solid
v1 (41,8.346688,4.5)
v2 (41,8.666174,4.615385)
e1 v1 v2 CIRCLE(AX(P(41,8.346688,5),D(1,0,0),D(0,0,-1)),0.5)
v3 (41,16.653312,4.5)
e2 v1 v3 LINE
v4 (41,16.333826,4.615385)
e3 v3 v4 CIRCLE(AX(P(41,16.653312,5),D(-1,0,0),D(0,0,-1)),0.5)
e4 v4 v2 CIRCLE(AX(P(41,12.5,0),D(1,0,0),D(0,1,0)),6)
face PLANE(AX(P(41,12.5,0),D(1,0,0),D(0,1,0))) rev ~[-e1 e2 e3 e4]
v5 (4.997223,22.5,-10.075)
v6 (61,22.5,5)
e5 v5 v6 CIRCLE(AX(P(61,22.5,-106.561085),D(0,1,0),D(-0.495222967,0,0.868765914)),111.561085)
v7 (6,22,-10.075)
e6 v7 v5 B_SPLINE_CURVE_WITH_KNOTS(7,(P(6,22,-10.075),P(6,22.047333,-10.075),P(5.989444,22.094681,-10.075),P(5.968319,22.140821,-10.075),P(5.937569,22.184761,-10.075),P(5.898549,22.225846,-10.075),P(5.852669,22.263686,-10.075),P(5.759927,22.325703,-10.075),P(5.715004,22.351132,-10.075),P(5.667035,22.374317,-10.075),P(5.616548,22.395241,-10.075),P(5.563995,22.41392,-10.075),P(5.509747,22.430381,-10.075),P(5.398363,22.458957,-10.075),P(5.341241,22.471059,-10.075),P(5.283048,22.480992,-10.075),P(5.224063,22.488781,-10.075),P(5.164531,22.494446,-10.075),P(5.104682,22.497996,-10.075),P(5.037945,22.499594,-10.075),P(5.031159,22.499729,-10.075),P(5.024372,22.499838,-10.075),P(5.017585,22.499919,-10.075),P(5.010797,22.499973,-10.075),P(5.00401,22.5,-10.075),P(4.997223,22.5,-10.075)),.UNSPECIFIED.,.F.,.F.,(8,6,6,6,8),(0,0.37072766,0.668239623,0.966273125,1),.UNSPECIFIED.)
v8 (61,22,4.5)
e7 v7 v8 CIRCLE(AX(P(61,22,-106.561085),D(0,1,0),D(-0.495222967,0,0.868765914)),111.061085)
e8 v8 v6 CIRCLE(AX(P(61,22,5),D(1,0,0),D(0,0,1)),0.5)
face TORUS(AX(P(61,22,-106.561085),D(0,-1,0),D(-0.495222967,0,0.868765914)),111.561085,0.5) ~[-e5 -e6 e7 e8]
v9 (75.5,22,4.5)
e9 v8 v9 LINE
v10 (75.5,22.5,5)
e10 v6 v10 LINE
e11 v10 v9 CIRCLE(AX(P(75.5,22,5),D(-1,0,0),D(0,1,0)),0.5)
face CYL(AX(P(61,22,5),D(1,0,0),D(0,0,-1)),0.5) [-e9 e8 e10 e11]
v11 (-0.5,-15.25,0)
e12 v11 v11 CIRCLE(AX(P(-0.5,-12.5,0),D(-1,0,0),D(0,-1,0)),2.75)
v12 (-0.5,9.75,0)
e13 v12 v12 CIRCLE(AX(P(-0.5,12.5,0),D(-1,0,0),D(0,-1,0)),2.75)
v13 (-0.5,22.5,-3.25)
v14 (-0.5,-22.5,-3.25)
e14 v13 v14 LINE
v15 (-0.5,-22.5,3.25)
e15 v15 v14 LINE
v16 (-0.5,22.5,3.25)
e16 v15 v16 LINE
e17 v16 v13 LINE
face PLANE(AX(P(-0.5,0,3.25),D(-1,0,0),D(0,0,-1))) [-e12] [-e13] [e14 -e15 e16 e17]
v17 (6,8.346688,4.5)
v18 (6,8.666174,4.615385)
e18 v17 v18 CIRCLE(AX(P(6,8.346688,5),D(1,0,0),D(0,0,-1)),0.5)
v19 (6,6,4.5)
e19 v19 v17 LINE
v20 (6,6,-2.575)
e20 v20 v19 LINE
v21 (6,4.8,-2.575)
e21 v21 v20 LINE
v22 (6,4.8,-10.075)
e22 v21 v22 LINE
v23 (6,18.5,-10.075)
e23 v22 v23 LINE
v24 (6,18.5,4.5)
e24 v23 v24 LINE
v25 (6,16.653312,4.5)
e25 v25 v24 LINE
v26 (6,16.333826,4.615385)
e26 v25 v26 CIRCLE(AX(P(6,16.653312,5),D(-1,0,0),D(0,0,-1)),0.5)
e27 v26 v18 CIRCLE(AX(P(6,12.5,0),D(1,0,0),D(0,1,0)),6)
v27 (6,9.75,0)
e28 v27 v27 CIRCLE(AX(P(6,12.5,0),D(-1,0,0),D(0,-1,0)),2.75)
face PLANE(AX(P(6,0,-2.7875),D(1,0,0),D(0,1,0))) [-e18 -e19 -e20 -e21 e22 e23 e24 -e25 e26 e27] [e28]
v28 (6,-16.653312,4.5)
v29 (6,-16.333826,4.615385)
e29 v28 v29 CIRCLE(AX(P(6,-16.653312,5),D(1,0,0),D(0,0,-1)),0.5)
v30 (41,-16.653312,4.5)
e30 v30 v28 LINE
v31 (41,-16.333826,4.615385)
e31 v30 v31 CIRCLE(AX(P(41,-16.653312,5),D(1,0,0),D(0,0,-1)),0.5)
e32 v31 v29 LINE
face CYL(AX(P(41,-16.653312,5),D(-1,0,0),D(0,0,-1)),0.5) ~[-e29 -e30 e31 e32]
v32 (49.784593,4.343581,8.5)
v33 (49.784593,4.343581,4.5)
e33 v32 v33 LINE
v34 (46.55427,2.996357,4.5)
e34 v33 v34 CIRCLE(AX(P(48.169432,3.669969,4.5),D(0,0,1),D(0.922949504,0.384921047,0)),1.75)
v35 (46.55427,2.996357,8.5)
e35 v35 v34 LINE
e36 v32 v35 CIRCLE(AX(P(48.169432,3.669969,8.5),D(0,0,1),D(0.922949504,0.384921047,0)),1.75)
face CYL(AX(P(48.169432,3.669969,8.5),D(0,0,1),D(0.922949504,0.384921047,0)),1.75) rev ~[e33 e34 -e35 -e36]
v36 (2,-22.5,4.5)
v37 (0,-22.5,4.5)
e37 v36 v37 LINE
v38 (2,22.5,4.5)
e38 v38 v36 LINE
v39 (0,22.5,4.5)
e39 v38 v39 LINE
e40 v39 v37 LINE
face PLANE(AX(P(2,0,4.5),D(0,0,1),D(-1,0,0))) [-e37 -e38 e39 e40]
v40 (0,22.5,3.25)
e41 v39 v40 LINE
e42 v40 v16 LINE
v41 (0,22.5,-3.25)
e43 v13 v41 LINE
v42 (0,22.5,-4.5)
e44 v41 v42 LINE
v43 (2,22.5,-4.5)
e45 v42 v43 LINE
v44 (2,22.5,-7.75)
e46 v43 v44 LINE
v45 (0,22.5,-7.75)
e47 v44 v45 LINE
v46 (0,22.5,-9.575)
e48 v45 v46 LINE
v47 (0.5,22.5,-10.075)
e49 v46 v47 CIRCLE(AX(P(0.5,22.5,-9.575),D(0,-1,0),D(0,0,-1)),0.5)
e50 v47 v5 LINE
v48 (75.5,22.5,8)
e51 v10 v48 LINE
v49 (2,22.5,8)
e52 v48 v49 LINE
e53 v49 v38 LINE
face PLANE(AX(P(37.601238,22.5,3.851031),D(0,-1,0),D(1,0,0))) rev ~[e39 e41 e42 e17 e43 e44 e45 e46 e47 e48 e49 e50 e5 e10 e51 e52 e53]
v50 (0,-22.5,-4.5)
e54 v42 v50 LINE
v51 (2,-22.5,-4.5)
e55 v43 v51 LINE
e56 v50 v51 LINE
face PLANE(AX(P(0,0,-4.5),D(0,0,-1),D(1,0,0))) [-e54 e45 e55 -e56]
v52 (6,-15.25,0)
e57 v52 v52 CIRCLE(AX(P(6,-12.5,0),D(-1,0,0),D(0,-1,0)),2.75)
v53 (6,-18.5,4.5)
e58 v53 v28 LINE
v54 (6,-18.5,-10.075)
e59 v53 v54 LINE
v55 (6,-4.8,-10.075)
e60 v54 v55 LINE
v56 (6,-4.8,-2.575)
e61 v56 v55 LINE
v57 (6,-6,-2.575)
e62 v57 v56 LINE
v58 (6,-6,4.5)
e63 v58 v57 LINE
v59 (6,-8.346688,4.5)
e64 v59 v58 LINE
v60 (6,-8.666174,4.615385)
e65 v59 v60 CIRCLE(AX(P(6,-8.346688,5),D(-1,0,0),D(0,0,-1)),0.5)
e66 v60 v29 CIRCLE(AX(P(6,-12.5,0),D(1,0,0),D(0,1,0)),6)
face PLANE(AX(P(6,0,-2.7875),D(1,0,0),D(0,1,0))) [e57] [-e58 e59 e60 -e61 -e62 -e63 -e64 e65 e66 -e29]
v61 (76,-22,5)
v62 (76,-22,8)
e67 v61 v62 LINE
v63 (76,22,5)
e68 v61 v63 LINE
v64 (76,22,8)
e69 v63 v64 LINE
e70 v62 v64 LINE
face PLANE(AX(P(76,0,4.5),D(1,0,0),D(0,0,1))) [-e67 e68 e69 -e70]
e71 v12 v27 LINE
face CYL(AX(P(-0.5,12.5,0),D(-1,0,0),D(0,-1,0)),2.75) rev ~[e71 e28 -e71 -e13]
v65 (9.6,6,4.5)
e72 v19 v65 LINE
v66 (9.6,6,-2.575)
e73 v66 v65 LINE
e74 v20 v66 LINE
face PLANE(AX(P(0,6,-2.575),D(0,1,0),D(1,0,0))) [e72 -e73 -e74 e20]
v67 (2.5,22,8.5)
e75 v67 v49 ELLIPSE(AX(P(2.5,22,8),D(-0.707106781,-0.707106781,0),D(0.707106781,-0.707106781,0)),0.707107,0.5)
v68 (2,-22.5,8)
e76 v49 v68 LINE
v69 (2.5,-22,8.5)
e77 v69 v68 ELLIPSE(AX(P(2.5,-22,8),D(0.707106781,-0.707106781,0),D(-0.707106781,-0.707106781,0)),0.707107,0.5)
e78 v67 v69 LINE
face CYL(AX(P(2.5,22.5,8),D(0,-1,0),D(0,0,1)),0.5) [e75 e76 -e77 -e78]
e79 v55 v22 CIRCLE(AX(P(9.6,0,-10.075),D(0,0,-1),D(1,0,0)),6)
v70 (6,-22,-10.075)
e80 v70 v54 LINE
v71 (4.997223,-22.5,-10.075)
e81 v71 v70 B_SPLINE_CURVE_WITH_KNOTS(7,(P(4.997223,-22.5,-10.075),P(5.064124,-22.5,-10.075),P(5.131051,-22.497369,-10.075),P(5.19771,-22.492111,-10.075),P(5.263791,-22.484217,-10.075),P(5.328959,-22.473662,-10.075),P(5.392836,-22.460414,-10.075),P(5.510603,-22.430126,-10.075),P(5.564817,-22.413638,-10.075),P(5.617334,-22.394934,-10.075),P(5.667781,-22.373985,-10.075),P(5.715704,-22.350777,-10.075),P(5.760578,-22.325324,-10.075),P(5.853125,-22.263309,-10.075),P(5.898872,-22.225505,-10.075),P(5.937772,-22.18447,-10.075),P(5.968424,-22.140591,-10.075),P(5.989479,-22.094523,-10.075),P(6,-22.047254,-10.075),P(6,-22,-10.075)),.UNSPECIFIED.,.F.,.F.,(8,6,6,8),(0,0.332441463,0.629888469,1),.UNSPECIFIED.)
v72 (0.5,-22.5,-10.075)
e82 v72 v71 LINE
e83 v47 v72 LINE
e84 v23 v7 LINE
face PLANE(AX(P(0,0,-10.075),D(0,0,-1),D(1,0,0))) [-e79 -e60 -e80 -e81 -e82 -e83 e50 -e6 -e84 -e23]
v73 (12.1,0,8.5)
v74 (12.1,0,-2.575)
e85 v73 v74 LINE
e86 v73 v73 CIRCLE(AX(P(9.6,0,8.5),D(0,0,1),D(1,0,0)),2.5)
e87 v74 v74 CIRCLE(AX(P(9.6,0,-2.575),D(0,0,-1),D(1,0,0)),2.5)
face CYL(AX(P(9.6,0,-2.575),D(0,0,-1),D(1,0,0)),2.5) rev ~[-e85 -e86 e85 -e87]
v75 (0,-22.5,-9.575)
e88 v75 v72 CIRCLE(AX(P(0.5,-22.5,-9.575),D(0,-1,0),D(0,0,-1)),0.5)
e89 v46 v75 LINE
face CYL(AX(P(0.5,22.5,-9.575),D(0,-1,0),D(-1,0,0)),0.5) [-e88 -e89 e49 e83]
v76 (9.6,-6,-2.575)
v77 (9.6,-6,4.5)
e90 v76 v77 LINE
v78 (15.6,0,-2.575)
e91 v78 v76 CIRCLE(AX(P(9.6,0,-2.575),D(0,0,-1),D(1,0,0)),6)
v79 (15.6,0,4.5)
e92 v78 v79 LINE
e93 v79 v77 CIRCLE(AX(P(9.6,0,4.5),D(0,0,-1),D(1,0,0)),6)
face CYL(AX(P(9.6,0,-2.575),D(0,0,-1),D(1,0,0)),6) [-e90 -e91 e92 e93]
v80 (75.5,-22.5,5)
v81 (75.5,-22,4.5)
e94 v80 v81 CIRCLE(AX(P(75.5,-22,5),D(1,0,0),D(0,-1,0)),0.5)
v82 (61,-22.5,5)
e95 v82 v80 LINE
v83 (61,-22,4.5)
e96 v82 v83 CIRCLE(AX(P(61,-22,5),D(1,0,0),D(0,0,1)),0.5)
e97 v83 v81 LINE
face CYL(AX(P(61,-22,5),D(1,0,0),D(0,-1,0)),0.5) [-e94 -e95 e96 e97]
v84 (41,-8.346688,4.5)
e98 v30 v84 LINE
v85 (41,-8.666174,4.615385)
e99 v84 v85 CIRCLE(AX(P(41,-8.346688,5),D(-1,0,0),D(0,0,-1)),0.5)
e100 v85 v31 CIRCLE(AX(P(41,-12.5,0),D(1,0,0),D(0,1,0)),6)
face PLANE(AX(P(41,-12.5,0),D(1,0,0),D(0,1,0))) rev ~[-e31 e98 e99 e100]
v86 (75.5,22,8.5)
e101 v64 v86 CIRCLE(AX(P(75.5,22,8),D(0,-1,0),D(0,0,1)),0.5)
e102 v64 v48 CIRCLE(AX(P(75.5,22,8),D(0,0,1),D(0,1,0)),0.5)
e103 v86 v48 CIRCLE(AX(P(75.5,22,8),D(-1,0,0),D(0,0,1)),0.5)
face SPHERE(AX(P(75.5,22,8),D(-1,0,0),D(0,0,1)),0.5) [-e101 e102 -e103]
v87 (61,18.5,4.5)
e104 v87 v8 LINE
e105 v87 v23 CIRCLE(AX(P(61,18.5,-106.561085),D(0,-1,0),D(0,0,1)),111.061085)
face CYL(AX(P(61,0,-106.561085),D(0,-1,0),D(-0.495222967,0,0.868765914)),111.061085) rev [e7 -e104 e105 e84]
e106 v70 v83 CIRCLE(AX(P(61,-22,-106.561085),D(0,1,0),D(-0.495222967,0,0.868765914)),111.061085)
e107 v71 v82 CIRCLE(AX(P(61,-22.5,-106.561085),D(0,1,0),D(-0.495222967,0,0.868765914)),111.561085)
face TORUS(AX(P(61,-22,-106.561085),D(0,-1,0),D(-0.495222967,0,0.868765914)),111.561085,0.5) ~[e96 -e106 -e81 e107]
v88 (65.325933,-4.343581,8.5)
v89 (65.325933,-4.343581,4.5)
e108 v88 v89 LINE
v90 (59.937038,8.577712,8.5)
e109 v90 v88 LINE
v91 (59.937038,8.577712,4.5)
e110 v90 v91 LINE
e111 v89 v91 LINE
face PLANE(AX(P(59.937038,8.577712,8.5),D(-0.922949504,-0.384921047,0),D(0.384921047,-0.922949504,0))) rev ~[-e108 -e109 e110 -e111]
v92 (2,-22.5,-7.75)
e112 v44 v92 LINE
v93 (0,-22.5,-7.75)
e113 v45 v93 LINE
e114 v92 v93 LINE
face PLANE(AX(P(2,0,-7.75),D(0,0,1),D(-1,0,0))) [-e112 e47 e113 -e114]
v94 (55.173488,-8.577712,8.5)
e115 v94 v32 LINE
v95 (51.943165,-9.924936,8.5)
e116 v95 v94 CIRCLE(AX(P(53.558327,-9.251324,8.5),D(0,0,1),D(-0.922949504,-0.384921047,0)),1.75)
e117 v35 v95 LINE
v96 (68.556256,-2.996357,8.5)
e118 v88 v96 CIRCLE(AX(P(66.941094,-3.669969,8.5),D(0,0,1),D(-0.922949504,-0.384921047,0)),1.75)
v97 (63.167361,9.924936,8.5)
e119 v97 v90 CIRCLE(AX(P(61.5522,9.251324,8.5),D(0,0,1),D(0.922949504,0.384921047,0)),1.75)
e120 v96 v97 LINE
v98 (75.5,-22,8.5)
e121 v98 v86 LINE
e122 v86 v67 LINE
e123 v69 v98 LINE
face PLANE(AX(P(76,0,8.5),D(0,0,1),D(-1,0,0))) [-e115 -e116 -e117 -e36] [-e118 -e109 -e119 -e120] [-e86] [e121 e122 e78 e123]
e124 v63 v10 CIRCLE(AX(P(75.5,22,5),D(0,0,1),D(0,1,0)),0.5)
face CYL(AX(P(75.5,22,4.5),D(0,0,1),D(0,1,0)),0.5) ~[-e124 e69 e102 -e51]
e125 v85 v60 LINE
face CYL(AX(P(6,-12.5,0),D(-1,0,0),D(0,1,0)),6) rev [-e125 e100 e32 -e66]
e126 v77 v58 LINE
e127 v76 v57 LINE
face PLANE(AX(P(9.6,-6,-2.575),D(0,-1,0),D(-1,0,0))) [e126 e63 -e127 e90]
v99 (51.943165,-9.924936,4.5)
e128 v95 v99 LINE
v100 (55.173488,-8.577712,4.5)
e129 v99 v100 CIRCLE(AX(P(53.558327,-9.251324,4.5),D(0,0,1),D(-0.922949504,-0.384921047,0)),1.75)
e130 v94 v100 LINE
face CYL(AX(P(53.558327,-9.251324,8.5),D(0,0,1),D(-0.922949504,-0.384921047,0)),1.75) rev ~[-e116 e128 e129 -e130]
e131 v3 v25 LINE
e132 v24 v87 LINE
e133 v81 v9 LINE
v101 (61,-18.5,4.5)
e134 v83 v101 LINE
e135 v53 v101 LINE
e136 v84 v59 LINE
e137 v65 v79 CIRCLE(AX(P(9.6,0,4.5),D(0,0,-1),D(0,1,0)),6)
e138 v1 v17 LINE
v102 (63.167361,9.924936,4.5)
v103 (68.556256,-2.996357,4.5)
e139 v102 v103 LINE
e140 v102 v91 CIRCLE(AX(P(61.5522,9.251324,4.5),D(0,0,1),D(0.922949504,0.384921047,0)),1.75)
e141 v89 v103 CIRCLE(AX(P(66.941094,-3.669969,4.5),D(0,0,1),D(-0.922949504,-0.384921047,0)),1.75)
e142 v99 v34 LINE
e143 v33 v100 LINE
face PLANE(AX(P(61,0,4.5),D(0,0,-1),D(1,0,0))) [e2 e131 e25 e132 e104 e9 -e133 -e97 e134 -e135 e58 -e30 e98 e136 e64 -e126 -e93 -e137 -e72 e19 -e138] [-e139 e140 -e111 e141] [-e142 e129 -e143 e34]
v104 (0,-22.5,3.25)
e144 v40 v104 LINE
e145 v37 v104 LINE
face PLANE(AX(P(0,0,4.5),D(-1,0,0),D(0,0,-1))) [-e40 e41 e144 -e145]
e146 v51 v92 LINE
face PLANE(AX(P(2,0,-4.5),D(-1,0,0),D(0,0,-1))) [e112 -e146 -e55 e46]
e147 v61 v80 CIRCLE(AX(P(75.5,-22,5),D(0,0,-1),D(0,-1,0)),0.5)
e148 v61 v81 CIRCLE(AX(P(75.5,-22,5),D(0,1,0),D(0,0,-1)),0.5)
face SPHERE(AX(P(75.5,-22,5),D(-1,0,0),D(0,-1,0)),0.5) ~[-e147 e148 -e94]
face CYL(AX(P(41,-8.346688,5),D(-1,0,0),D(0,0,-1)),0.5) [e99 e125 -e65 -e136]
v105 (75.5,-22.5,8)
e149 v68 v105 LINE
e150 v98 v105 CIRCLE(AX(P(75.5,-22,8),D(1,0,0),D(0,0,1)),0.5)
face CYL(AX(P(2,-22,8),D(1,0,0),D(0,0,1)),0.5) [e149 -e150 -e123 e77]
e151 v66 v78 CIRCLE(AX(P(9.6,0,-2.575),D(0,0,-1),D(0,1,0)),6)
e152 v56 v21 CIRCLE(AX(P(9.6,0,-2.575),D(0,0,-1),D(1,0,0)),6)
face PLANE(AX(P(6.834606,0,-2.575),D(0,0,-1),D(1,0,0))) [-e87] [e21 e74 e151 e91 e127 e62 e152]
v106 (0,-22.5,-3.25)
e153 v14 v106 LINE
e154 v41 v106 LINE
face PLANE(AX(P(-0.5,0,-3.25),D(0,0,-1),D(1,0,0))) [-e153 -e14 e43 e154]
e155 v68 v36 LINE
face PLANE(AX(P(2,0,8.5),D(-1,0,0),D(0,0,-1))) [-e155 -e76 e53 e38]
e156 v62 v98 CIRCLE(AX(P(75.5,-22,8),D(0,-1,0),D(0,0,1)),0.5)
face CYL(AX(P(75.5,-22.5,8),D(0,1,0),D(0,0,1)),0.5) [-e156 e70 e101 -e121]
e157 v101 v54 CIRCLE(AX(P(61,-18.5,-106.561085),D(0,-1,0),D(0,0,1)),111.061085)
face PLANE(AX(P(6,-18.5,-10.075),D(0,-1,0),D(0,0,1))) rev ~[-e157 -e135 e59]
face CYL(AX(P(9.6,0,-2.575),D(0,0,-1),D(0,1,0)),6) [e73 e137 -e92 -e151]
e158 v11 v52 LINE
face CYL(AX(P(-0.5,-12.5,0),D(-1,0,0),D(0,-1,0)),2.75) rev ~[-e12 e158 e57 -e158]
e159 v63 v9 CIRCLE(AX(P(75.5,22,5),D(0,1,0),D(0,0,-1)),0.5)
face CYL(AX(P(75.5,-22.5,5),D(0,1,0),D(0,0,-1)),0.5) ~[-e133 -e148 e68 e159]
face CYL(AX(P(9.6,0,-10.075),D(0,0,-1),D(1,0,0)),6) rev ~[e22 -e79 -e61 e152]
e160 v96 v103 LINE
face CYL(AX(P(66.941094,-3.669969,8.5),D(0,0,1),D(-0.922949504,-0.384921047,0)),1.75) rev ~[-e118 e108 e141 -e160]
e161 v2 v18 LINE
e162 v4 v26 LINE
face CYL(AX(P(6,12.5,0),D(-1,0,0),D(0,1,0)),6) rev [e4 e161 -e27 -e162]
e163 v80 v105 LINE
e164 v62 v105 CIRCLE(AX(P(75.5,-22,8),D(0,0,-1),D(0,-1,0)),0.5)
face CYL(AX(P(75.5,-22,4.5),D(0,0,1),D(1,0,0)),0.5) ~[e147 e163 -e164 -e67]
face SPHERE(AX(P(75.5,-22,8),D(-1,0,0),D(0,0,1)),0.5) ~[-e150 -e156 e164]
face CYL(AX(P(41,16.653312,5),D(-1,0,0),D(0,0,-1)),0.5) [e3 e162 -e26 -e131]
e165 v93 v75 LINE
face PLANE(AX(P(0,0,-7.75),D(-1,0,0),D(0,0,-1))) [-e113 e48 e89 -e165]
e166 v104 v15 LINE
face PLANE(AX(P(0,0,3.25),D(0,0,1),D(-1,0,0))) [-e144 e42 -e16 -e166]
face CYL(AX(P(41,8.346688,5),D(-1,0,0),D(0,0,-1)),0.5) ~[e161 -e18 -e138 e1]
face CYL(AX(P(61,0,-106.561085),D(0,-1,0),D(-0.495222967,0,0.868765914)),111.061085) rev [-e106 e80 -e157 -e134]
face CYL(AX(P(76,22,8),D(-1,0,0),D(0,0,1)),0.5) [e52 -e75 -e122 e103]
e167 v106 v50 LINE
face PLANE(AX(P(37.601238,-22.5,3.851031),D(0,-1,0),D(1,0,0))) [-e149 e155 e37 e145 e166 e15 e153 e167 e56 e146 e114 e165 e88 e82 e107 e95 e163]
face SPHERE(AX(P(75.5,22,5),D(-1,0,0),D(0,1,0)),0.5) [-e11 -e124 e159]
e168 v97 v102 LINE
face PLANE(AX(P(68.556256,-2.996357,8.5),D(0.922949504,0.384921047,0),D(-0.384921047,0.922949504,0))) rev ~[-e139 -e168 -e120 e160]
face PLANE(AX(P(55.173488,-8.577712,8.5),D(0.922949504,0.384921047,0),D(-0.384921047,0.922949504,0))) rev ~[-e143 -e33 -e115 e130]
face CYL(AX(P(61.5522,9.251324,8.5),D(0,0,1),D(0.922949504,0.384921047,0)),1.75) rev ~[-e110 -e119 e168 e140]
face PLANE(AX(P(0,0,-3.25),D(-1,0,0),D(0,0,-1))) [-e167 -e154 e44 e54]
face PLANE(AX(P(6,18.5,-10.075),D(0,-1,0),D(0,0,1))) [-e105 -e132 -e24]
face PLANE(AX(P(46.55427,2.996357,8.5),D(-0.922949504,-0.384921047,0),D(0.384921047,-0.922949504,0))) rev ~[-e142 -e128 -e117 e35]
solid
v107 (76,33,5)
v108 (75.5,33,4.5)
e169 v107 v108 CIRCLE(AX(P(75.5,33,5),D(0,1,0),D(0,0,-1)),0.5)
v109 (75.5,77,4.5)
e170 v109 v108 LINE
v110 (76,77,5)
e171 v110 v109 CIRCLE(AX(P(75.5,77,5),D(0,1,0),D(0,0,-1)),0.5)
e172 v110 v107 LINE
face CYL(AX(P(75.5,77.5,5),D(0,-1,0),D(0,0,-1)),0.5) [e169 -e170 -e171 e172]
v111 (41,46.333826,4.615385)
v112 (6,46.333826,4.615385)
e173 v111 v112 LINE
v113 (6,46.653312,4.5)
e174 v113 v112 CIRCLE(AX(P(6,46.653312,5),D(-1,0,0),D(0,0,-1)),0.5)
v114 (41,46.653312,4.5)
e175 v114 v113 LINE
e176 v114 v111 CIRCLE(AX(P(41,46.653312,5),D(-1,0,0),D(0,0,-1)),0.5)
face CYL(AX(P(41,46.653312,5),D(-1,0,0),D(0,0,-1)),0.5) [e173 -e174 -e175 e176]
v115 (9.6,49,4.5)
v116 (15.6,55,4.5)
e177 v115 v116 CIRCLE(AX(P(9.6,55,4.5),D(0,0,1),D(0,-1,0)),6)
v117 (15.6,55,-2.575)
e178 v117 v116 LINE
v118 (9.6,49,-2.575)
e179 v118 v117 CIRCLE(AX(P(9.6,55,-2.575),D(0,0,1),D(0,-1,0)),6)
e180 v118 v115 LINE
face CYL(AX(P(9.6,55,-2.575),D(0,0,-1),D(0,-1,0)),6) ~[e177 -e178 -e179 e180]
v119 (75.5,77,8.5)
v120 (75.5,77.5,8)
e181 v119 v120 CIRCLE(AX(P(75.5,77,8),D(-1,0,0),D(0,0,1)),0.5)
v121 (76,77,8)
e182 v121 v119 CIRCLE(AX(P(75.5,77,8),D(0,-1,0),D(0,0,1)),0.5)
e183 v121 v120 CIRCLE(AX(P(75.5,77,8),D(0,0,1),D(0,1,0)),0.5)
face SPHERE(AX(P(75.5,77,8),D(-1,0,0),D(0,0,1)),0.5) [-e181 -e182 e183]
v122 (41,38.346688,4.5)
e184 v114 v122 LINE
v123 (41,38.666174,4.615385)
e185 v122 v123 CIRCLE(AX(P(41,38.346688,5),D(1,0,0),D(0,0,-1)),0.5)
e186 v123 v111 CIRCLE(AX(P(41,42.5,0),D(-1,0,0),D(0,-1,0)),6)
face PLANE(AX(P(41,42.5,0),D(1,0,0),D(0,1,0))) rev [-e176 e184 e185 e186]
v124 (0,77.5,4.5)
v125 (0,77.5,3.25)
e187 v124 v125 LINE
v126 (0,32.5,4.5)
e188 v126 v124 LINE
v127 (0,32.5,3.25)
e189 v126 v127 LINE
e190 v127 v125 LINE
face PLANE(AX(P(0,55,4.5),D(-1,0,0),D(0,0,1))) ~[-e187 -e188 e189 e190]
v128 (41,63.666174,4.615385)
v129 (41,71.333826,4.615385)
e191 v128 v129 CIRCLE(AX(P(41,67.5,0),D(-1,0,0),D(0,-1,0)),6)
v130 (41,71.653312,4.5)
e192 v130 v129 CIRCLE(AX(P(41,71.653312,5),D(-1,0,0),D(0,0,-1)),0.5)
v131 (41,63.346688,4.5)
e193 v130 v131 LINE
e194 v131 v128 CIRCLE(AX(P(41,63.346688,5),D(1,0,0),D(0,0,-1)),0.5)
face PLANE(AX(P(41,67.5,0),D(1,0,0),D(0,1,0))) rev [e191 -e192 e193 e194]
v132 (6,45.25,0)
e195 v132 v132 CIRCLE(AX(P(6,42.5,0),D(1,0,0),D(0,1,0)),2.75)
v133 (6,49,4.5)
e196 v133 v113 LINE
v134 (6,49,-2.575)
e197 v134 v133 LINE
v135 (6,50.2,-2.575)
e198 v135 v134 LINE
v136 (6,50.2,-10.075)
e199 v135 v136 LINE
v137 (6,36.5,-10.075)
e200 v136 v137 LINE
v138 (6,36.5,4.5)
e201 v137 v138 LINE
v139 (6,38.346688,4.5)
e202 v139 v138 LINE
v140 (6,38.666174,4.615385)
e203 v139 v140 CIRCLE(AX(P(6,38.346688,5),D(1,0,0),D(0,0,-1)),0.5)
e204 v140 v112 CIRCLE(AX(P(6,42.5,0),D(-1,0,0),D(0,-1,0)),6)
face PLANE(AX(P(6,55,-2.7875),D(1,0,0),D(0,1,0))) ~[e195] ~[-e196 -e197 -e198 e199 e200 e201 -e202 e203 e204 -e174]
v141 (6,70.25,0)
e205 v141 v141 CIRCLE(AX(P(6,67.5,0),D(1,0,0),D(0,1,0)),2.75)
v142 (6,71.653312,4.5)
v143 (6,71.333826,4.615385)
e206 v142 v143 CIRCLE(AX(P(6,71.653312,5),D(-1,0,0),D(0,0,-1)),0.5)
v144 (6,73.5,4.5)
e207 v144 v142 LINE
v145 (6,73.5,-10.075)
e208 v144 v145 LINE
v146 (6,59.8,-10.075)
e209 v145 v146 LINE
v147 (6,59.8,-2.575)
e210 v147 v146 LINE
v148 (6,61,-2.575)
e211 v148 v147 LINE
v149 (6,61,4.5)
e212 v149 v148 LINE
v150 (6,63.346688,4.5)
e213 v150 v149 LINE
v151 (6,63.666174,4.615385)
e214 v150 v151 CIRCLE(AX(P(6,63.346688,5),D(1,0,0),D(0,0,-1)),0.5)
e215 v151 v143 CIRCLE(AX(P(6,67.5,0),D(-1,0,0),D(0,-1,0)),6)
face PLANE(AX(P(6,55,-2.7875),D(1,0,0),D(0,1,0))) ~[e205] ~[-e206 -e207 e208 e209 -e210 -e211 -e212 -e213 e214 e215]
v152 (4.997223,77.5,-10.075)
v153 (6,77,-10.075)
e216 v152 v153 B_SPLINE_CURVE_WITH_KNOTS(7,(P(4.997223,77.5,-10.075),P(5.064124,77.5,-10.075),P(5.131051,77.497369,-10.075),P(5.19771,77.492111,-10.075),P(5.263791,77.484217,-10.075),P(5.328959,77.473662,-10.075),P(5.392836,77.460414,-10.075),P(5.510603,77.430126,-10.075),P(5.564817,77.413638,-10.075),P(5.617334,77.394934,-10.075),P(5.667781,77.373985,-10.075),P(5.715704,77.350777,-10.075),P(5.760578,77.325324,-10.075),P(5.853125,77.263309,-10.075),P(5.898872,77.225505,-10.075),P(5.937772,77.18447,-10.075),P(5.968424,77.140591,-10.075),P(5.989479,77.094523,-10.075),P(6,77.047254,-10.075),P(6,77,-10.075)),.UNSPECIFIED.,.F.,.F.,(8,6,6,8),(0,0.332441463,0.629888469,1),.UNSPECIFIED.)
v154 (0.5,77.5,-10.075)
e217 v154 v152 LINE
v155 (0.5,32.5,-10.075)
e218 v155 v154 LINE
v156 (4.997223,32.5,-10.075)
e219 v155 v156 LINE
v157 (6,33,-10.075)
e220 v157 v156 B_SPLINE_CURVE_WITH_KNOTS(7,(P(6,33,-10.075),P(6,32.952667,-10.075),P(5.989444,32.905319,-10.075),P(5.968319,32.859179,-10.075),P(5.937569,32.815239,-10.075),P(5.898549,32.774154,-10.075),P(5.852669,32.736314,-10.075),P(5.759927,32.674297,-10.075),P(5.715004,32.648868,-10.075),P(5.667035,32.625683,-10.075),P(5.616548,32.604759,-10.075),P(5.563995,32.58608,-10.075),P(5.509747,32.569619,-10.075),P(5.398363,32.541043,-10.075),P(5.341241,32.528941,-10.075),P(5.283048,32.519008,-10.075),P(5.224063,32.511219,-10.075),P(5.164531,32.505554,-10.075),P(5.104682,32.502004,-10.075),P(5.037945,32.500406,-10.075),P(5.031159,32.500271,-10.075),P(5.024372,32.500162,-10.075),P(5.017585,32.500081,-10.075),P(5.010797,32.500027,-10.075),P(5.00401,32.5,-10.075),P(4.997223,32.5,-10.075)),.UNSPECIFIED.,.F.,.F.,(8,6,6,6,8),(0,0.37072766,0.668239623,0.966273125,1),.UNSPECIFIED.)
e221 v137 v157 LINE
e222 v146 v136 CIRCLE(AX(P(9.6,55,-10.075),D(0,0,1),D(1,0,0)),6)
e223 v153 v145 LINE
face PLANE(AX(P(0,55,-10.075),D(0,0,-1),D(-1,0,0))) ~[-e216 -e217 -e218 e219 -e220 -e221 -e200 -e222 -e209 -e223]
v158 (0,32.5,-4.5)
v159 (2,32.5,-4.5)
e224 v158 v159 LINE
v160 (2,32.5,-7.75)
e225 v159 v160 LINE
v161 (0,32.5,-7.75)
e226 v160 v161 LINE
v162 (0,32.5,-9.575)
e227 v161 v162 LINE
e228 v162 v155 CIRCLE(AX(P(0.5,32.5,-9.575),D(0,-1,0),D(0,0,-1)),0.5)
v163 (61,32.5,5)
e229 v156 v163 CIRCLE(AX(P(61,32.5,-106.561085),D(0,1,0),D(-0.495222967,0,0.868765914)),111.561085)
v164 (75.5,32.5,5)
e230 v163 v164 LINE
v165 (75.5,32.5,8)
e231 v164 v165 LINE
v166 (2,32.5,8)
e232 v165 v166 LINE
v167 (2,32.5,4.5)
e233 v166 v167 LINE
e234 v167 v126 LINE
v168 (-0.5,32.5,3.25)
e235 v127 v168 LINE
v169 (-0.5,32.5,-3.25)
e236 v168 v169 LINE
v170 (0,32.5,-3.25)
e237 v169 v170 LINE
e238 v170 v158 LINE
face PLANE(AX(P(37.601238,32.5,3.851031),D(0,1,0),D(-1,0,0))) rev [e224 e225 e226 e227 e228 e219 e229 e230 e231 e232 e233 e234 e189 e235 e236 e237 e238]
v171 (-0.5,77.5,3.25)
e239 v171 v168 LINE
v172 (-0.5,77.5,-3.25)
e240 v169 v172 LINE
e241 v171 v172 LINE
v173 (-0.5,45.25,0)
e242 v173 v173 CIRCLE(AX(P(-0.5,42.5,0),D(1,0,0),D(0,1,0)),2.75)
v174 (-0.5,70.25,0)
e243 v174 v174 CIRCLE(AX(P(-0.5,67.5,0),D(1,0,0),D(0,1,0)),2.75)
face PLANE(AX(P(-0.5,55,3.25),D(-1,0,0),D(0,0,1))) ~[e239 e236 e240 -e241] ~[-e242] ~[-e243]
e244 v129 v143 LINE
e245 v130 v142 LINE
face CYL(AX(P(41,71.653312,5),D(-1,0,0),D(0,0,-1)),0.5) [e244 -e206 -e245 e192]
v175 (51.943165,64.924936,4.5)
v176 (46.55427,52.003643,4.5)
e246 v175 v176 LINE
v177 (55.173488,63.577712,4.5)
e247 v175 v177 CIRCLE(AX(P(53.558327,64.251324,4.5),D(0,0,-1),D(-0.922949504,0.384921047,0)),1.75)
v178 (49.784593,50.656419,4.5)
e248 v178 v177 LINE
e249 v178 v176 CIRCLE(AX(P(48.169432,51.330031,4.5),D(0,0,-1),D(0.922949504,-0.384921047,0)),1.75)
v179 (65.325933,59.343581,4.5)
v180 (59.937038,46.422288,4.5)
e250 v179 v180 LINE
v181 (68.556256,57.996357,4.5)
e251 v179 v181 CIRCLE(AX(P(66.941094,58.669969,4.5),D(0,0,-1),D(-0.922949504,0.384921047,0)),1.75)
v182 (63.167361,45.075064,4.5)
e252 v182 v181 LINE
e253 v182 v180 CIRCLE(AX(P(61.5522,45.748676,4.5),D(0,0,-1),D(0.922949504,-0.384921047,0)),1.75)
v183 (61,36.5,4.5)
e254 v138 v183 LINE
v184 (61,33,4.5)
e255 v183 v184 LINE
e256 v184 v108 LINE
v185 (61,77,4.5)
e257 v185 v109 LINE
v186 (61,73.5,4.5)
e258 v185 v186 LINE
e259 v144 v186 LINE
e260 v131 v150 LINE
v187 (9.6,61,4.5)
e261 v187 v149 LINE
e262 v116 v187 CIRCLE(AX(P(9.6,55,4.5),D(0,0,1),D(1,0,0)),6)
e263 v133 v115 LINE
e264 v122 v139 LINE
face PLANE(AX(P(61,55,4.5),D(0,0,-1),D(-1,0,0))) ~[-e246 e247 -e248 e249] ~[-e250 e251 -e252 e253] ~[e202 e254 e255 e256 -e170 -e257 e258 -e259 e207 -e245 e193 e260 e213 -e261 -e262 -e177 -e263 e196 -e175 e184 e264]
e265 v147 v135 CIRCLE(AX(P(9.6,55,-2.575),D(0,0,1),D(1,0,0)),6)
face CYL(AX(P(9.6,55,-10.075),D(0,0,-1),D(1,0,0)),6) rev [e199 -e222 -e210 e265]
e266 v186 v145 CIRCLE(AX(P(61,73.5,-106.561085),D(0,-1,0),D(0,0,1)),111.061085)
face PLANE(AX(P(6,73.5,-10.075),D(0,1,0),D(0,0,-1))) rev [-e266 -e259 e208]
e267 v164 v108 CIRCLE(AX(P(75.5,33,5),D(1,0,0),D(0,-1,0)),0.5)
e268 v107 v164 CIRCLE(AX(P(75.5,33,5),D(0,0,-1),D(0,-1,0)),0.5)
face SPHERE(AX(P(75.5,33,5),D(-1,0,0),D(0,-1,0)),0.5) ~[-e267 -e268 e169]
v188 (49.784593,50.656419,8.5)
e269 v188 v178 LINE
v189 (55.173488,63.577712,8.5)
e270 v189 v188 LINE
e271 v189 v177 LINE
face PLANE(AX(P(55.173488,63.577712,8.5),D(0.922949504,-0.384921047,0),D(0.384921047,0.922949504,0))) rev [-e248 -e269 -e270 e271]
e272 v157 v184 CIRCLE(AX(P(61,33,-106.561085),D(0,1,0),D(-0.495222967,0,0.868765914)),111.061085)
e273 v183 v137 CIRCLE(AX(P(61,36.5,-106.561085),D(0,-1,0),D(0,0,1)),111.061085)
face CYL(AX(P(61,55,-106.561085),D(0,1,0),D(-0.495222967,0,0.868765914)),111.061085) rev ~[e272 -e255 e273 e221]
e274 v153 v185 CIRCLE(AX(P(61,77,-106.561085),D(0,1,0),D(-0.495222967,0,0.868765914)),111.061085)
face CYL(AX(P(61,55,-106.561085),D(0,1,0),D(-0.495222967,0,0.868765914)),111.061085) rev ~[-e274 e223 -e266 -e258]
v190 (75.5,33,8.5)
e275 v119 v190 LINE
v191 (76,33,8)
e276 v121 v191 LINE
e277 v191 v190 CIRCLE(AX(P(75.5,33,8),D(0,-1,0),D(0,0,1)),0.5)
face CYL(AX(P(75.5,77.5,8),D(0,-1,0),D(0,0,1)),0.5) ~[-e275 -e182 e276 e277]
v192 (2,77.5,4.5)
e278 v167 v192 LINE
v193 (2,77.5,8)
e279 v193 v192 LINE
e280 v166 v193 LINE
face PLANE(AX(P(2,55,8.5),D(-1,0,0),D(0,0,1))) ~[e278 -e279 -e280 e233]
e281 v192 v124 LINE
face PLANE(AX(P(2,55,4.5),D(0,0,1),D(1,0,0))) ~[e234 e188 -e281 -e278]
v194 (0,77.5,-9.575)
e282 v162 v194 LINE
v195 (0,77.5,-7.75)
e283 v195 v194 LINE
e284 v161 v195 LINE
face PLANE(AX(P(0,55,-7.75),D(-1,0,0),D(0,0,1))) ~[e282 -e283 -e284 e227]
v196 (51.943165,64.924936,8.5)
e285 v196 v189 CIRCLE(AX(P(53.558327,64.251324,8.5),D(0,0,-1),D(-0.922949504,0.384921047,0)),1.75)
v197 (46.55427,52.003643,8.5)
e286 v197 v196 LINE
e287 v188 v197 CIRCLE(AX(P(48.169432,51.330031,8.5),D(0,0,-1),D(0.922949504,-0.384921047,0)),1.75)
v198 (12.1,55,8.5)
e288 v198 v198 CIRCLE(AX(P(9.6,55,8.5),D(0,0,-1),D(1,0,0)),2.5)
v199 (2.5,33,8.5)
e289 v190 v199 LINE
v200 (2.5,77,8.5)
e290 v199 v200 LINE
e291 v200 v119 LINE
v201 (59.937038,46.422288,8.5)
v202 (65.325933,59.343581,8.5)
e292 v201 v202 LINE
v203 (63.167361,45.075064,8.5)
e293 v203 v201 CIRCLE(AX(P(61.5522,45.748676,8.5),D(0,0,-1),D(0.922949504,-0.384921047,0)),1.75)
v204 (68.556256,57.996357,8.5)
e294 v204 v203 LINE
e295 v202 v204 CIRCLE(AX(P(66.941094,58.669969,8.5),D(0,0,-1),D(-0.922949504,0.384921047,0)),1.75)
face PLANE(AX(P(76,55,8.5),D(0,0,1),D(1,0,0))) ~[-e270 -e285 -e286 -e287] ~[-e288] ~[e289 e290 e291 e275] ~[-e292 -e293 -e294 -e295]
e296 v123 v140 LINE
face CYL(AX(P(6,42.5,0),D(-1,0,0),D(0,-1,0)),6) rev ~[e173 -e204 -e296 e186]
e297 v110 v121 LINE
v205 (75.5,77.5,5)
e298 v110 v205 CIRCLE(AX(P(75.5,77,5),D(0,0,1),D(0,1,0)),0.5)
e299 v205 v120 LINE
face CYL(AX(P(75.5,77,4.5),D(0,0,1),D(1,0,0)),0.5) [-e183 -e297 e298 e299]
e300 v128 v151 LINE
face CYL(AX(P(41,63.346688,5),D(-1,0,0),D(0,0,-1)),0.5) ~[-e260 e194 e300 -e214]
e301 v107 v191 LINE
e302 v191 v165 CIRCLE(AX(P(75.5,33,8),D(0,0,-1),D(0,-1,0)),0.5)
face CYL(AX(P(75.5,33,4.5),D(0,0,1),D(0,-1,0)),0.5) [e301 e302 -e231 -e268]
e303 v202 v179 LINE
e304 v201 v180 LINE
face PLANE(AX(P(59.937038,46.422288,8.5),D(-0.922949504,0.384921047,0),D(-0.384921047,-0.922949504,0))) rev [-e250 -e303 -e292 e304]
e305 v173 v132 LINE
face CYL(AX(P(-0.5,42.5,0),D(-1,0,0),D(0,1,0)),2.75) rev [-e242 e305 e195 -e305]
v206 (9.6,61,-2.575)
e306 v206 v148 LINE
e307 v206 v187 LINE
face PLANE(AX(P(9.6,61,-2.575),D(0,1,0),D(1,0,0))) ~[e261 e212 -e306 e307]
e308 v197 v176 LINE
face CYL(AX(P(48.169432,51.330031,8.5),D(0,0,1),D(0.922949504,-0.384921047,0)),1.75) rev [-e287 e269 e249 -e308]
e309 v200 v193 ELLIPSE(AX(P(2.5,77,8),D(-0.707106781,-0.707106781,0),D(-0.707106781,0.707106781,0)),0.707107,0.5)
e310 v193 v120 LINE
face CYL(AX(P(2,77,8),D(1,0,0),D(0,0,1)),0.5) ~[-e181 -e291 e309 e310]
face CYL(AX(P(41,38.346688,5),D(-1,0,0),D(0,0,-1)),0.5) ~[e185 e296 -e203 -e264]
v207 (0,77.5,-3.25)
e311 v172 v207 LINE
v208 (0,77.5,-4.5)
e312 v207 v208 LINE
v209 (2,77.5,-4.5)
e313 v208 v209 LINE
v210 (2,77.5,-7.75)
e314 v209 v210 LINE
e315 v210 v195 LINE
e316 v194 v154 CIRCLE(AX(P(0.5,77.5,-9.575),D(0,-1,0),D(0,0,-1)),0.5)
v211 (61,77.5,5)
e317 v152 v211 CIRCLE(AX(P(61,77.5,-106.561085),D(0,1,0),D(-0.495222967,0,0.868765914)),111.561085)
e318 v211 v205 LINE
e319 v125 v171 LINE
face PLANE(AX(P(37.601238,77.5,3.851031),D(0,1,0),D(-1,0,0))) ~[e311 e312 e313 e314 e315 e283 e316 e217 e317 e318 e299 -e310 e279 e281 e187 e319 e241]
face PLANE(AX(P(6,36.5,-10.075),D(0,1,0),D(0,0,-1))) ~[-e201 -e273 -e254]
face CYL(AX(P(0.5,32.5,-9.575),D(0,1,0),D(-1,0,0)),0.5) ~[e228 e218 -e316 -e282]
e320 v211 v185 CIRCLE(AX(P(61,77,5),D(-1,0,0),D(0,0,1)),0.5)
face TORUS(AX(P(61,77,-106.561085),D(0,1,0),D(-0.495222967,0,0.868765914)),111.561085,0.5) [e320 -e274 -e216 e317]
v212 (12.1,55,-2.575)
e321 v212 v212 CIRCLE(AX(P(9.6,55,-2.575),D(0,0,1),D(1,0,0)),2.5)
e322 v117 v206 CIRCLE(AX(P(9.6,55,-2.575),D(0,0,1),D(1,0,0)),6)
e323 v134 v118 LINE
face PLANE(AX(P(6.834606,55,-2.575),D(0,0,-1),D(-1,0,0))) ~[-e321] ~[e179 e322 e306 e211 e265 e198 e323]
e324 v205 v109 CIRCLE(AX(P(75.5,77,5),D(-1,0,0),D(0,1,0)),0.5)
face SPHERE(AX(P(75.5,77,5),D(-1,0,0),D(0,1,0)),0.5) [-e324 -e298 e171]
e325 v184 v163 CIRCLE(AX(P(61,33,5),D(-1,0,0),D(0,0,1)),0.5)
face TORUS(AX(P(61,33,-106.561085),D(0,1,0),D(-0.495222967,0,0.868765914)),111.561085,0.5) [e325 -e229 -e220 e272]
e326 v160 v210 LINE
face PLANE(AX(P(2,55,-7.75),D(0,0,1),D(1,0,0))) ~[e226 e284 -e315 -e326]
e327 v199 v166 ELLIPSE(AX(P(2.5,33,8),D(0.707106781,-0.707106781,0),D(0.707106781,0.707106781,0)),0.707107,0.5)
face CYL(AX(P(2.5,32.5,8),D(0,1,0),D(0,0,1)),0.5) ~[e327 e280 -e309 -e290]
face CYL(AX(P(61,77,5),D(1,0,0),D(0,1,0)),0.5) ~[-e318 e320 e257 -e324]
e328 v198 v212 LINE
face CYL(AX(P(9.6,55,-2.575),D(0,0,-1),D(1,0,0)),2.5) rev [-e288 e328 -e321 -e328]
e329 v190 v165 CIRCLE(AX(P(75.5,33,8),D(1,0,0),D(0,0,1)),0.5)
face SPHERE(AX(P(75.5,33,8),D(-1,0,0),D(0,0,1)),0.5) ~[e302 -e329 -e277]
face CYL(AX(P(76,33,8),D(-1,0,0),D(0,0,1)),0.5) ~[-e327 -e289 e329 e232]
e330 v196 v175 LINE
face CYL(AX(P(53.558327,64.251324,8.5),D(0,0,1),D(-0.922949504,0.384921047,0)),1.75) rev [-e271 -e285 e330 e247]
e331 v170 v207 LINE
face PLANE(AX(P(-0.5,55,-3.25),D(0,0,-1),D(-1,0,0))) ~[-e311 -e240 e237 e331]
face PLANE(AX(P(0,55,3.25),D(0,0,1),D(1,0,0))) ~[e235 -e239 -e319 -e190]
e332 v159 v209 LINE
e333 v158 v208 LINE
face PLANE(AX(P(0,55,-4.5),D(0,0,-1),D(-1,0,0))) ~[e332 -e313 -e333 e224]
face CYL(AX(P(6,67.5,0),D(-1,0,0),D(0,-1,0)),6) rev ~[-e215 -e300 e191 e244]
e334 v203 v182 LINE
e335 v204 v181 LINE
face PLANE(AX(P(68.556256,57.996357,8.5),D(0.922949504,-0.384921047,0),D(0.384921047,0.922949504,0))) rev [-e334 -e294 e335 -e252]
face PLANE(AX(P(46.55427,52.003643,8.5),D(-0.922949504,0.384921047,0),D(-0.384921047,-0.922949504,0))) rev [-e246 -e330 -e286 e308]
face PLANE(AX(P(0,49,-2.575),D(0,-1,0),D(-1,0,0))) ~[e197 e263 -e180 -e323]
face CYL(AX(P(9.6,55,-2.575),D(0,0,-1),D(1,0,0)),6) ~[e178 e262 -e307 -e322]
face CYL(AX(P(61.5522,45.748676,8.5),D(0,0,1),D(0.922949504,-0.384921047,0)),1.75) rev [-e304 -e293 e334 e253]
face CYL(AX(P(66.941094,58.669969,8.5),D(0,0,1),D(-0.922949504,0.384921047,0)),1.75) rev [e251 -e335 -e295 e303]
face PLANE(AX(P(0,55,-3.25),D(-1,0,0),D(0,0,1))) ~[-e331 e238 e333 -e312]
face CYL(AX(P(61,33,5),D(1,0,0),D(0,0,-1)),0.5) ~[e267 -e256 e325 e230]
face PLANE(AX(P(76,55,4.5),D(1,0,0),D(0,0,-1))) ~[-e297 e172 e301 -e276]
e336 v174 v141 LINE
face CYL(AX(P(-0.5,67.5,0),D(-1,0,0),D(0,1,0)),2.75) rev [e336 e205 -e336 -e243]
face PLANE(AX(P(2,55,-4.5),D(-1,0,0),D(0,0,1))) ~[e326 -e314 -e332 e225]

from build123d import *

# Parameters (mm, degrees)
F1_DEPTH      = 22.5
F1_DEPTH_BACK = 22.5
F4_DEPTH      = 22.5
F4_DEPTH_BACK = 22.5
F5_W          = 37
F5_H          = 14.575
F6_DEPTH      = 70.001
F7_R          = 2.5
F8_DEPTH      = 18.576
F9_R          = 6
F10_DEPTH     = 7.5
F11_R         = 2.75
F12_DEPTH     = 76.501
F13_R         = 2.5
F14_DEPTH     = 7.075
F15_R         = 6
F16_DEPTH     = 35
F17_R         = 0.5


with BuildPart() as f1:
    # F0 (on Front) → F1 (new body, two sides)
    with BuildSketch(Plane.XZ) as f1_sk:
        Polygon((-0.5, 3.25), (-0.5, 0), (-0.5, -3.25), (0, -3.25), (0, -4.5), (2, -4.5), (2, -7.75), (0, -7.75), (0, -10.075), (6, -10.075), (6, 0), (6, 8.5), (2, 8.5), (2, 4.5), (0, 4.5), (0, 3.25), align=None)
    extrude(amount=F1_DEPTH)
    extrude(f1_sk.sketch, amount=-F1_DEPTH_BACK)

    # F3 (on Front) → F4 (join, two sides)
    with BuildSketch(Plane.XZ) as f4_sk:
        with BuildLine():
            Line((76, 8.5), (6, 8.5))
            Line((6, 8.5), (6, -10.075))
            ThreePointArc((6, -10.075), (32.550788126, 0.7944315999), (61, 4.5))
            Line((61, 4.5), (76, 4.5))
            Line((76, 4.5), (76, 8.5))
        make_face()
    extrude(amount=F4_DEPTH)
    extrude(f4_sk.sketch, amount=-F4_DEPTH_BACK)

    # F5 (on offset) → F6 (cut, through all)
    with BuildSketch(Plane.YZ.offset(6)):
        with Locations((0, -2.7875)):
            Rectangle(F5_W, F5_H)
    extrude(amount=F6_DEPTH, mode=Mode.SUBTRACT)

    # F7 (on face) → F8 (cut, through all)
    with BuildSketch(Plane.XY.offset(8.5)):
        with Locations((9.6, 0)):
            Circle(F7_R)
        with BuildLine():
            ThreePointArc((63.1673612931, 9.9249359546), (60.8785878281, 10.8664857545), (59.9370380282, 8.5777122894))
            Line((59.9370380282, 8.5777122894), (65.3259326889, -4.3435807703))
            ThreePointArc((65.3259326889, -4.3435807703), (67.614706154, -5.2851305701), (68.5562559539, -2.9963571051))
            Line((68.5562559539, -2.9963571051), (63.1673612931, 9.9249359546))
        make_face()
        with BuildLine():
            ThreePointArc((49.7845934813, 4.3435807703), (47.4958200162, 5.2851305701), (46.5542702163, 2.9963571051))
            Line((46.5542702163, 2.9963571051), (51.9431648771, -9.9249359546))
            ThreePointArc((51.9431648771, -9.9249359546), (54.2319383421, -10.8664857545), (55.173488142, -8.5777122894))
            Line((55.173488142, -8.5777122894), (49.7845934813, 4.3435807703))
        make_face()
    extrude(amount=-F8_DEPTH, mode=Mode.SUBTRACT)

    # F9 (on face) → F10 (cut)
    with BuildSketch(Plane(origin=(0, 0, -10.075), x_dir=(1, 0, 0), z_dir=(0, 0, -1))):
        with Locations((9.6, 0)):
            Circle(F9_R)
    extrude(amount=-F10_DEPTH, mode=Mode.SUBTRACT)

    # F11 (on face) → F12 (cut, through all)
    with BuildSketch(Plane(origin=(-0.5, 0, 0), x_dir=(0, -1, 0), z_dir=(-1, 0, 0))):
        with Locations((-12.5, 0)):
            Circle(F11_R)
        with Locations((12.5, 0)):
            Circle(F11_R)
    extrude(amount=-F12_DEPTH, mode=Mode.SUBTRACT)

    # F13 (on face) → F14 (join, through all)
    with BuildSketch(Plane(origin=(0, 0, -2.575), x_dir=(1, 0, 0), z_dir=(0, 0, -1))):
        with BuildLine():
            ThreePointArc((15.6, 0), (13.8426406871, 4.2426406871), (9.6, 6))
            Line((9.6, 6), (0, 6))
            Line((0, 6), (0, 0))
            Line((0, 0), (0, -6))
            Line((0, -6), (9.6, -6))
            ThreePointArc((9.6, -6), (13.8426406871, -4.2426406871), (15.6, 0))
        make_face()
        with Locations((9.6, 0)):
            Circle(F13_R, mode=Mode.SUBTRACT)
    extrude(amount=-F14_DEPTH)

    # F15 (on face) → F16 (cut)
    with BuildSketch(Plane.YZ.offset(6)):
        with Locations((-12.5, 0)):
            Circle(F15_R)
        with Locations((12.5, 0)):
            Circle(F15_R)
    extrude(amount=F16_DEPTH, mode=Mode.SUBTRACT)

    # F17
    f17_edges = [f1.edges().sort_by_distance(p)[0] for p in [
        (2, 0, 8.5),
        (39, -22.5, 8.5),
        (39, 22.5, 8.5),
        (76, 0, 8.5),
        (32.550788, -22.5, 0.794432),
        (32.550788, 22.5, 0.794432),
        (0, 0, -10.075),
        (76, 22.5, 6.5),
        (76, -22.5, 6.5),
        (76, 0, 4.5),
        (23.5, -16.468627, 4.5),
        (23.5, -8.531373, 4.5),
        (23.5, 8.531373, 4.5),
        (23.5, 16.468627, 4.5),
    ]]
    fillet(f17_edges, radius=F17_R)


with BuildPart() as f19_1:
    # F19: instance of F1
    add(f1.part.mirror(Plane(origin=(24.5429101248, 27.5, 2.5208918973), x_dir=(-1, 0, 0), z_dir=(0, 1, 0))))


solid = Compound([f1.part, f19_1.part])
